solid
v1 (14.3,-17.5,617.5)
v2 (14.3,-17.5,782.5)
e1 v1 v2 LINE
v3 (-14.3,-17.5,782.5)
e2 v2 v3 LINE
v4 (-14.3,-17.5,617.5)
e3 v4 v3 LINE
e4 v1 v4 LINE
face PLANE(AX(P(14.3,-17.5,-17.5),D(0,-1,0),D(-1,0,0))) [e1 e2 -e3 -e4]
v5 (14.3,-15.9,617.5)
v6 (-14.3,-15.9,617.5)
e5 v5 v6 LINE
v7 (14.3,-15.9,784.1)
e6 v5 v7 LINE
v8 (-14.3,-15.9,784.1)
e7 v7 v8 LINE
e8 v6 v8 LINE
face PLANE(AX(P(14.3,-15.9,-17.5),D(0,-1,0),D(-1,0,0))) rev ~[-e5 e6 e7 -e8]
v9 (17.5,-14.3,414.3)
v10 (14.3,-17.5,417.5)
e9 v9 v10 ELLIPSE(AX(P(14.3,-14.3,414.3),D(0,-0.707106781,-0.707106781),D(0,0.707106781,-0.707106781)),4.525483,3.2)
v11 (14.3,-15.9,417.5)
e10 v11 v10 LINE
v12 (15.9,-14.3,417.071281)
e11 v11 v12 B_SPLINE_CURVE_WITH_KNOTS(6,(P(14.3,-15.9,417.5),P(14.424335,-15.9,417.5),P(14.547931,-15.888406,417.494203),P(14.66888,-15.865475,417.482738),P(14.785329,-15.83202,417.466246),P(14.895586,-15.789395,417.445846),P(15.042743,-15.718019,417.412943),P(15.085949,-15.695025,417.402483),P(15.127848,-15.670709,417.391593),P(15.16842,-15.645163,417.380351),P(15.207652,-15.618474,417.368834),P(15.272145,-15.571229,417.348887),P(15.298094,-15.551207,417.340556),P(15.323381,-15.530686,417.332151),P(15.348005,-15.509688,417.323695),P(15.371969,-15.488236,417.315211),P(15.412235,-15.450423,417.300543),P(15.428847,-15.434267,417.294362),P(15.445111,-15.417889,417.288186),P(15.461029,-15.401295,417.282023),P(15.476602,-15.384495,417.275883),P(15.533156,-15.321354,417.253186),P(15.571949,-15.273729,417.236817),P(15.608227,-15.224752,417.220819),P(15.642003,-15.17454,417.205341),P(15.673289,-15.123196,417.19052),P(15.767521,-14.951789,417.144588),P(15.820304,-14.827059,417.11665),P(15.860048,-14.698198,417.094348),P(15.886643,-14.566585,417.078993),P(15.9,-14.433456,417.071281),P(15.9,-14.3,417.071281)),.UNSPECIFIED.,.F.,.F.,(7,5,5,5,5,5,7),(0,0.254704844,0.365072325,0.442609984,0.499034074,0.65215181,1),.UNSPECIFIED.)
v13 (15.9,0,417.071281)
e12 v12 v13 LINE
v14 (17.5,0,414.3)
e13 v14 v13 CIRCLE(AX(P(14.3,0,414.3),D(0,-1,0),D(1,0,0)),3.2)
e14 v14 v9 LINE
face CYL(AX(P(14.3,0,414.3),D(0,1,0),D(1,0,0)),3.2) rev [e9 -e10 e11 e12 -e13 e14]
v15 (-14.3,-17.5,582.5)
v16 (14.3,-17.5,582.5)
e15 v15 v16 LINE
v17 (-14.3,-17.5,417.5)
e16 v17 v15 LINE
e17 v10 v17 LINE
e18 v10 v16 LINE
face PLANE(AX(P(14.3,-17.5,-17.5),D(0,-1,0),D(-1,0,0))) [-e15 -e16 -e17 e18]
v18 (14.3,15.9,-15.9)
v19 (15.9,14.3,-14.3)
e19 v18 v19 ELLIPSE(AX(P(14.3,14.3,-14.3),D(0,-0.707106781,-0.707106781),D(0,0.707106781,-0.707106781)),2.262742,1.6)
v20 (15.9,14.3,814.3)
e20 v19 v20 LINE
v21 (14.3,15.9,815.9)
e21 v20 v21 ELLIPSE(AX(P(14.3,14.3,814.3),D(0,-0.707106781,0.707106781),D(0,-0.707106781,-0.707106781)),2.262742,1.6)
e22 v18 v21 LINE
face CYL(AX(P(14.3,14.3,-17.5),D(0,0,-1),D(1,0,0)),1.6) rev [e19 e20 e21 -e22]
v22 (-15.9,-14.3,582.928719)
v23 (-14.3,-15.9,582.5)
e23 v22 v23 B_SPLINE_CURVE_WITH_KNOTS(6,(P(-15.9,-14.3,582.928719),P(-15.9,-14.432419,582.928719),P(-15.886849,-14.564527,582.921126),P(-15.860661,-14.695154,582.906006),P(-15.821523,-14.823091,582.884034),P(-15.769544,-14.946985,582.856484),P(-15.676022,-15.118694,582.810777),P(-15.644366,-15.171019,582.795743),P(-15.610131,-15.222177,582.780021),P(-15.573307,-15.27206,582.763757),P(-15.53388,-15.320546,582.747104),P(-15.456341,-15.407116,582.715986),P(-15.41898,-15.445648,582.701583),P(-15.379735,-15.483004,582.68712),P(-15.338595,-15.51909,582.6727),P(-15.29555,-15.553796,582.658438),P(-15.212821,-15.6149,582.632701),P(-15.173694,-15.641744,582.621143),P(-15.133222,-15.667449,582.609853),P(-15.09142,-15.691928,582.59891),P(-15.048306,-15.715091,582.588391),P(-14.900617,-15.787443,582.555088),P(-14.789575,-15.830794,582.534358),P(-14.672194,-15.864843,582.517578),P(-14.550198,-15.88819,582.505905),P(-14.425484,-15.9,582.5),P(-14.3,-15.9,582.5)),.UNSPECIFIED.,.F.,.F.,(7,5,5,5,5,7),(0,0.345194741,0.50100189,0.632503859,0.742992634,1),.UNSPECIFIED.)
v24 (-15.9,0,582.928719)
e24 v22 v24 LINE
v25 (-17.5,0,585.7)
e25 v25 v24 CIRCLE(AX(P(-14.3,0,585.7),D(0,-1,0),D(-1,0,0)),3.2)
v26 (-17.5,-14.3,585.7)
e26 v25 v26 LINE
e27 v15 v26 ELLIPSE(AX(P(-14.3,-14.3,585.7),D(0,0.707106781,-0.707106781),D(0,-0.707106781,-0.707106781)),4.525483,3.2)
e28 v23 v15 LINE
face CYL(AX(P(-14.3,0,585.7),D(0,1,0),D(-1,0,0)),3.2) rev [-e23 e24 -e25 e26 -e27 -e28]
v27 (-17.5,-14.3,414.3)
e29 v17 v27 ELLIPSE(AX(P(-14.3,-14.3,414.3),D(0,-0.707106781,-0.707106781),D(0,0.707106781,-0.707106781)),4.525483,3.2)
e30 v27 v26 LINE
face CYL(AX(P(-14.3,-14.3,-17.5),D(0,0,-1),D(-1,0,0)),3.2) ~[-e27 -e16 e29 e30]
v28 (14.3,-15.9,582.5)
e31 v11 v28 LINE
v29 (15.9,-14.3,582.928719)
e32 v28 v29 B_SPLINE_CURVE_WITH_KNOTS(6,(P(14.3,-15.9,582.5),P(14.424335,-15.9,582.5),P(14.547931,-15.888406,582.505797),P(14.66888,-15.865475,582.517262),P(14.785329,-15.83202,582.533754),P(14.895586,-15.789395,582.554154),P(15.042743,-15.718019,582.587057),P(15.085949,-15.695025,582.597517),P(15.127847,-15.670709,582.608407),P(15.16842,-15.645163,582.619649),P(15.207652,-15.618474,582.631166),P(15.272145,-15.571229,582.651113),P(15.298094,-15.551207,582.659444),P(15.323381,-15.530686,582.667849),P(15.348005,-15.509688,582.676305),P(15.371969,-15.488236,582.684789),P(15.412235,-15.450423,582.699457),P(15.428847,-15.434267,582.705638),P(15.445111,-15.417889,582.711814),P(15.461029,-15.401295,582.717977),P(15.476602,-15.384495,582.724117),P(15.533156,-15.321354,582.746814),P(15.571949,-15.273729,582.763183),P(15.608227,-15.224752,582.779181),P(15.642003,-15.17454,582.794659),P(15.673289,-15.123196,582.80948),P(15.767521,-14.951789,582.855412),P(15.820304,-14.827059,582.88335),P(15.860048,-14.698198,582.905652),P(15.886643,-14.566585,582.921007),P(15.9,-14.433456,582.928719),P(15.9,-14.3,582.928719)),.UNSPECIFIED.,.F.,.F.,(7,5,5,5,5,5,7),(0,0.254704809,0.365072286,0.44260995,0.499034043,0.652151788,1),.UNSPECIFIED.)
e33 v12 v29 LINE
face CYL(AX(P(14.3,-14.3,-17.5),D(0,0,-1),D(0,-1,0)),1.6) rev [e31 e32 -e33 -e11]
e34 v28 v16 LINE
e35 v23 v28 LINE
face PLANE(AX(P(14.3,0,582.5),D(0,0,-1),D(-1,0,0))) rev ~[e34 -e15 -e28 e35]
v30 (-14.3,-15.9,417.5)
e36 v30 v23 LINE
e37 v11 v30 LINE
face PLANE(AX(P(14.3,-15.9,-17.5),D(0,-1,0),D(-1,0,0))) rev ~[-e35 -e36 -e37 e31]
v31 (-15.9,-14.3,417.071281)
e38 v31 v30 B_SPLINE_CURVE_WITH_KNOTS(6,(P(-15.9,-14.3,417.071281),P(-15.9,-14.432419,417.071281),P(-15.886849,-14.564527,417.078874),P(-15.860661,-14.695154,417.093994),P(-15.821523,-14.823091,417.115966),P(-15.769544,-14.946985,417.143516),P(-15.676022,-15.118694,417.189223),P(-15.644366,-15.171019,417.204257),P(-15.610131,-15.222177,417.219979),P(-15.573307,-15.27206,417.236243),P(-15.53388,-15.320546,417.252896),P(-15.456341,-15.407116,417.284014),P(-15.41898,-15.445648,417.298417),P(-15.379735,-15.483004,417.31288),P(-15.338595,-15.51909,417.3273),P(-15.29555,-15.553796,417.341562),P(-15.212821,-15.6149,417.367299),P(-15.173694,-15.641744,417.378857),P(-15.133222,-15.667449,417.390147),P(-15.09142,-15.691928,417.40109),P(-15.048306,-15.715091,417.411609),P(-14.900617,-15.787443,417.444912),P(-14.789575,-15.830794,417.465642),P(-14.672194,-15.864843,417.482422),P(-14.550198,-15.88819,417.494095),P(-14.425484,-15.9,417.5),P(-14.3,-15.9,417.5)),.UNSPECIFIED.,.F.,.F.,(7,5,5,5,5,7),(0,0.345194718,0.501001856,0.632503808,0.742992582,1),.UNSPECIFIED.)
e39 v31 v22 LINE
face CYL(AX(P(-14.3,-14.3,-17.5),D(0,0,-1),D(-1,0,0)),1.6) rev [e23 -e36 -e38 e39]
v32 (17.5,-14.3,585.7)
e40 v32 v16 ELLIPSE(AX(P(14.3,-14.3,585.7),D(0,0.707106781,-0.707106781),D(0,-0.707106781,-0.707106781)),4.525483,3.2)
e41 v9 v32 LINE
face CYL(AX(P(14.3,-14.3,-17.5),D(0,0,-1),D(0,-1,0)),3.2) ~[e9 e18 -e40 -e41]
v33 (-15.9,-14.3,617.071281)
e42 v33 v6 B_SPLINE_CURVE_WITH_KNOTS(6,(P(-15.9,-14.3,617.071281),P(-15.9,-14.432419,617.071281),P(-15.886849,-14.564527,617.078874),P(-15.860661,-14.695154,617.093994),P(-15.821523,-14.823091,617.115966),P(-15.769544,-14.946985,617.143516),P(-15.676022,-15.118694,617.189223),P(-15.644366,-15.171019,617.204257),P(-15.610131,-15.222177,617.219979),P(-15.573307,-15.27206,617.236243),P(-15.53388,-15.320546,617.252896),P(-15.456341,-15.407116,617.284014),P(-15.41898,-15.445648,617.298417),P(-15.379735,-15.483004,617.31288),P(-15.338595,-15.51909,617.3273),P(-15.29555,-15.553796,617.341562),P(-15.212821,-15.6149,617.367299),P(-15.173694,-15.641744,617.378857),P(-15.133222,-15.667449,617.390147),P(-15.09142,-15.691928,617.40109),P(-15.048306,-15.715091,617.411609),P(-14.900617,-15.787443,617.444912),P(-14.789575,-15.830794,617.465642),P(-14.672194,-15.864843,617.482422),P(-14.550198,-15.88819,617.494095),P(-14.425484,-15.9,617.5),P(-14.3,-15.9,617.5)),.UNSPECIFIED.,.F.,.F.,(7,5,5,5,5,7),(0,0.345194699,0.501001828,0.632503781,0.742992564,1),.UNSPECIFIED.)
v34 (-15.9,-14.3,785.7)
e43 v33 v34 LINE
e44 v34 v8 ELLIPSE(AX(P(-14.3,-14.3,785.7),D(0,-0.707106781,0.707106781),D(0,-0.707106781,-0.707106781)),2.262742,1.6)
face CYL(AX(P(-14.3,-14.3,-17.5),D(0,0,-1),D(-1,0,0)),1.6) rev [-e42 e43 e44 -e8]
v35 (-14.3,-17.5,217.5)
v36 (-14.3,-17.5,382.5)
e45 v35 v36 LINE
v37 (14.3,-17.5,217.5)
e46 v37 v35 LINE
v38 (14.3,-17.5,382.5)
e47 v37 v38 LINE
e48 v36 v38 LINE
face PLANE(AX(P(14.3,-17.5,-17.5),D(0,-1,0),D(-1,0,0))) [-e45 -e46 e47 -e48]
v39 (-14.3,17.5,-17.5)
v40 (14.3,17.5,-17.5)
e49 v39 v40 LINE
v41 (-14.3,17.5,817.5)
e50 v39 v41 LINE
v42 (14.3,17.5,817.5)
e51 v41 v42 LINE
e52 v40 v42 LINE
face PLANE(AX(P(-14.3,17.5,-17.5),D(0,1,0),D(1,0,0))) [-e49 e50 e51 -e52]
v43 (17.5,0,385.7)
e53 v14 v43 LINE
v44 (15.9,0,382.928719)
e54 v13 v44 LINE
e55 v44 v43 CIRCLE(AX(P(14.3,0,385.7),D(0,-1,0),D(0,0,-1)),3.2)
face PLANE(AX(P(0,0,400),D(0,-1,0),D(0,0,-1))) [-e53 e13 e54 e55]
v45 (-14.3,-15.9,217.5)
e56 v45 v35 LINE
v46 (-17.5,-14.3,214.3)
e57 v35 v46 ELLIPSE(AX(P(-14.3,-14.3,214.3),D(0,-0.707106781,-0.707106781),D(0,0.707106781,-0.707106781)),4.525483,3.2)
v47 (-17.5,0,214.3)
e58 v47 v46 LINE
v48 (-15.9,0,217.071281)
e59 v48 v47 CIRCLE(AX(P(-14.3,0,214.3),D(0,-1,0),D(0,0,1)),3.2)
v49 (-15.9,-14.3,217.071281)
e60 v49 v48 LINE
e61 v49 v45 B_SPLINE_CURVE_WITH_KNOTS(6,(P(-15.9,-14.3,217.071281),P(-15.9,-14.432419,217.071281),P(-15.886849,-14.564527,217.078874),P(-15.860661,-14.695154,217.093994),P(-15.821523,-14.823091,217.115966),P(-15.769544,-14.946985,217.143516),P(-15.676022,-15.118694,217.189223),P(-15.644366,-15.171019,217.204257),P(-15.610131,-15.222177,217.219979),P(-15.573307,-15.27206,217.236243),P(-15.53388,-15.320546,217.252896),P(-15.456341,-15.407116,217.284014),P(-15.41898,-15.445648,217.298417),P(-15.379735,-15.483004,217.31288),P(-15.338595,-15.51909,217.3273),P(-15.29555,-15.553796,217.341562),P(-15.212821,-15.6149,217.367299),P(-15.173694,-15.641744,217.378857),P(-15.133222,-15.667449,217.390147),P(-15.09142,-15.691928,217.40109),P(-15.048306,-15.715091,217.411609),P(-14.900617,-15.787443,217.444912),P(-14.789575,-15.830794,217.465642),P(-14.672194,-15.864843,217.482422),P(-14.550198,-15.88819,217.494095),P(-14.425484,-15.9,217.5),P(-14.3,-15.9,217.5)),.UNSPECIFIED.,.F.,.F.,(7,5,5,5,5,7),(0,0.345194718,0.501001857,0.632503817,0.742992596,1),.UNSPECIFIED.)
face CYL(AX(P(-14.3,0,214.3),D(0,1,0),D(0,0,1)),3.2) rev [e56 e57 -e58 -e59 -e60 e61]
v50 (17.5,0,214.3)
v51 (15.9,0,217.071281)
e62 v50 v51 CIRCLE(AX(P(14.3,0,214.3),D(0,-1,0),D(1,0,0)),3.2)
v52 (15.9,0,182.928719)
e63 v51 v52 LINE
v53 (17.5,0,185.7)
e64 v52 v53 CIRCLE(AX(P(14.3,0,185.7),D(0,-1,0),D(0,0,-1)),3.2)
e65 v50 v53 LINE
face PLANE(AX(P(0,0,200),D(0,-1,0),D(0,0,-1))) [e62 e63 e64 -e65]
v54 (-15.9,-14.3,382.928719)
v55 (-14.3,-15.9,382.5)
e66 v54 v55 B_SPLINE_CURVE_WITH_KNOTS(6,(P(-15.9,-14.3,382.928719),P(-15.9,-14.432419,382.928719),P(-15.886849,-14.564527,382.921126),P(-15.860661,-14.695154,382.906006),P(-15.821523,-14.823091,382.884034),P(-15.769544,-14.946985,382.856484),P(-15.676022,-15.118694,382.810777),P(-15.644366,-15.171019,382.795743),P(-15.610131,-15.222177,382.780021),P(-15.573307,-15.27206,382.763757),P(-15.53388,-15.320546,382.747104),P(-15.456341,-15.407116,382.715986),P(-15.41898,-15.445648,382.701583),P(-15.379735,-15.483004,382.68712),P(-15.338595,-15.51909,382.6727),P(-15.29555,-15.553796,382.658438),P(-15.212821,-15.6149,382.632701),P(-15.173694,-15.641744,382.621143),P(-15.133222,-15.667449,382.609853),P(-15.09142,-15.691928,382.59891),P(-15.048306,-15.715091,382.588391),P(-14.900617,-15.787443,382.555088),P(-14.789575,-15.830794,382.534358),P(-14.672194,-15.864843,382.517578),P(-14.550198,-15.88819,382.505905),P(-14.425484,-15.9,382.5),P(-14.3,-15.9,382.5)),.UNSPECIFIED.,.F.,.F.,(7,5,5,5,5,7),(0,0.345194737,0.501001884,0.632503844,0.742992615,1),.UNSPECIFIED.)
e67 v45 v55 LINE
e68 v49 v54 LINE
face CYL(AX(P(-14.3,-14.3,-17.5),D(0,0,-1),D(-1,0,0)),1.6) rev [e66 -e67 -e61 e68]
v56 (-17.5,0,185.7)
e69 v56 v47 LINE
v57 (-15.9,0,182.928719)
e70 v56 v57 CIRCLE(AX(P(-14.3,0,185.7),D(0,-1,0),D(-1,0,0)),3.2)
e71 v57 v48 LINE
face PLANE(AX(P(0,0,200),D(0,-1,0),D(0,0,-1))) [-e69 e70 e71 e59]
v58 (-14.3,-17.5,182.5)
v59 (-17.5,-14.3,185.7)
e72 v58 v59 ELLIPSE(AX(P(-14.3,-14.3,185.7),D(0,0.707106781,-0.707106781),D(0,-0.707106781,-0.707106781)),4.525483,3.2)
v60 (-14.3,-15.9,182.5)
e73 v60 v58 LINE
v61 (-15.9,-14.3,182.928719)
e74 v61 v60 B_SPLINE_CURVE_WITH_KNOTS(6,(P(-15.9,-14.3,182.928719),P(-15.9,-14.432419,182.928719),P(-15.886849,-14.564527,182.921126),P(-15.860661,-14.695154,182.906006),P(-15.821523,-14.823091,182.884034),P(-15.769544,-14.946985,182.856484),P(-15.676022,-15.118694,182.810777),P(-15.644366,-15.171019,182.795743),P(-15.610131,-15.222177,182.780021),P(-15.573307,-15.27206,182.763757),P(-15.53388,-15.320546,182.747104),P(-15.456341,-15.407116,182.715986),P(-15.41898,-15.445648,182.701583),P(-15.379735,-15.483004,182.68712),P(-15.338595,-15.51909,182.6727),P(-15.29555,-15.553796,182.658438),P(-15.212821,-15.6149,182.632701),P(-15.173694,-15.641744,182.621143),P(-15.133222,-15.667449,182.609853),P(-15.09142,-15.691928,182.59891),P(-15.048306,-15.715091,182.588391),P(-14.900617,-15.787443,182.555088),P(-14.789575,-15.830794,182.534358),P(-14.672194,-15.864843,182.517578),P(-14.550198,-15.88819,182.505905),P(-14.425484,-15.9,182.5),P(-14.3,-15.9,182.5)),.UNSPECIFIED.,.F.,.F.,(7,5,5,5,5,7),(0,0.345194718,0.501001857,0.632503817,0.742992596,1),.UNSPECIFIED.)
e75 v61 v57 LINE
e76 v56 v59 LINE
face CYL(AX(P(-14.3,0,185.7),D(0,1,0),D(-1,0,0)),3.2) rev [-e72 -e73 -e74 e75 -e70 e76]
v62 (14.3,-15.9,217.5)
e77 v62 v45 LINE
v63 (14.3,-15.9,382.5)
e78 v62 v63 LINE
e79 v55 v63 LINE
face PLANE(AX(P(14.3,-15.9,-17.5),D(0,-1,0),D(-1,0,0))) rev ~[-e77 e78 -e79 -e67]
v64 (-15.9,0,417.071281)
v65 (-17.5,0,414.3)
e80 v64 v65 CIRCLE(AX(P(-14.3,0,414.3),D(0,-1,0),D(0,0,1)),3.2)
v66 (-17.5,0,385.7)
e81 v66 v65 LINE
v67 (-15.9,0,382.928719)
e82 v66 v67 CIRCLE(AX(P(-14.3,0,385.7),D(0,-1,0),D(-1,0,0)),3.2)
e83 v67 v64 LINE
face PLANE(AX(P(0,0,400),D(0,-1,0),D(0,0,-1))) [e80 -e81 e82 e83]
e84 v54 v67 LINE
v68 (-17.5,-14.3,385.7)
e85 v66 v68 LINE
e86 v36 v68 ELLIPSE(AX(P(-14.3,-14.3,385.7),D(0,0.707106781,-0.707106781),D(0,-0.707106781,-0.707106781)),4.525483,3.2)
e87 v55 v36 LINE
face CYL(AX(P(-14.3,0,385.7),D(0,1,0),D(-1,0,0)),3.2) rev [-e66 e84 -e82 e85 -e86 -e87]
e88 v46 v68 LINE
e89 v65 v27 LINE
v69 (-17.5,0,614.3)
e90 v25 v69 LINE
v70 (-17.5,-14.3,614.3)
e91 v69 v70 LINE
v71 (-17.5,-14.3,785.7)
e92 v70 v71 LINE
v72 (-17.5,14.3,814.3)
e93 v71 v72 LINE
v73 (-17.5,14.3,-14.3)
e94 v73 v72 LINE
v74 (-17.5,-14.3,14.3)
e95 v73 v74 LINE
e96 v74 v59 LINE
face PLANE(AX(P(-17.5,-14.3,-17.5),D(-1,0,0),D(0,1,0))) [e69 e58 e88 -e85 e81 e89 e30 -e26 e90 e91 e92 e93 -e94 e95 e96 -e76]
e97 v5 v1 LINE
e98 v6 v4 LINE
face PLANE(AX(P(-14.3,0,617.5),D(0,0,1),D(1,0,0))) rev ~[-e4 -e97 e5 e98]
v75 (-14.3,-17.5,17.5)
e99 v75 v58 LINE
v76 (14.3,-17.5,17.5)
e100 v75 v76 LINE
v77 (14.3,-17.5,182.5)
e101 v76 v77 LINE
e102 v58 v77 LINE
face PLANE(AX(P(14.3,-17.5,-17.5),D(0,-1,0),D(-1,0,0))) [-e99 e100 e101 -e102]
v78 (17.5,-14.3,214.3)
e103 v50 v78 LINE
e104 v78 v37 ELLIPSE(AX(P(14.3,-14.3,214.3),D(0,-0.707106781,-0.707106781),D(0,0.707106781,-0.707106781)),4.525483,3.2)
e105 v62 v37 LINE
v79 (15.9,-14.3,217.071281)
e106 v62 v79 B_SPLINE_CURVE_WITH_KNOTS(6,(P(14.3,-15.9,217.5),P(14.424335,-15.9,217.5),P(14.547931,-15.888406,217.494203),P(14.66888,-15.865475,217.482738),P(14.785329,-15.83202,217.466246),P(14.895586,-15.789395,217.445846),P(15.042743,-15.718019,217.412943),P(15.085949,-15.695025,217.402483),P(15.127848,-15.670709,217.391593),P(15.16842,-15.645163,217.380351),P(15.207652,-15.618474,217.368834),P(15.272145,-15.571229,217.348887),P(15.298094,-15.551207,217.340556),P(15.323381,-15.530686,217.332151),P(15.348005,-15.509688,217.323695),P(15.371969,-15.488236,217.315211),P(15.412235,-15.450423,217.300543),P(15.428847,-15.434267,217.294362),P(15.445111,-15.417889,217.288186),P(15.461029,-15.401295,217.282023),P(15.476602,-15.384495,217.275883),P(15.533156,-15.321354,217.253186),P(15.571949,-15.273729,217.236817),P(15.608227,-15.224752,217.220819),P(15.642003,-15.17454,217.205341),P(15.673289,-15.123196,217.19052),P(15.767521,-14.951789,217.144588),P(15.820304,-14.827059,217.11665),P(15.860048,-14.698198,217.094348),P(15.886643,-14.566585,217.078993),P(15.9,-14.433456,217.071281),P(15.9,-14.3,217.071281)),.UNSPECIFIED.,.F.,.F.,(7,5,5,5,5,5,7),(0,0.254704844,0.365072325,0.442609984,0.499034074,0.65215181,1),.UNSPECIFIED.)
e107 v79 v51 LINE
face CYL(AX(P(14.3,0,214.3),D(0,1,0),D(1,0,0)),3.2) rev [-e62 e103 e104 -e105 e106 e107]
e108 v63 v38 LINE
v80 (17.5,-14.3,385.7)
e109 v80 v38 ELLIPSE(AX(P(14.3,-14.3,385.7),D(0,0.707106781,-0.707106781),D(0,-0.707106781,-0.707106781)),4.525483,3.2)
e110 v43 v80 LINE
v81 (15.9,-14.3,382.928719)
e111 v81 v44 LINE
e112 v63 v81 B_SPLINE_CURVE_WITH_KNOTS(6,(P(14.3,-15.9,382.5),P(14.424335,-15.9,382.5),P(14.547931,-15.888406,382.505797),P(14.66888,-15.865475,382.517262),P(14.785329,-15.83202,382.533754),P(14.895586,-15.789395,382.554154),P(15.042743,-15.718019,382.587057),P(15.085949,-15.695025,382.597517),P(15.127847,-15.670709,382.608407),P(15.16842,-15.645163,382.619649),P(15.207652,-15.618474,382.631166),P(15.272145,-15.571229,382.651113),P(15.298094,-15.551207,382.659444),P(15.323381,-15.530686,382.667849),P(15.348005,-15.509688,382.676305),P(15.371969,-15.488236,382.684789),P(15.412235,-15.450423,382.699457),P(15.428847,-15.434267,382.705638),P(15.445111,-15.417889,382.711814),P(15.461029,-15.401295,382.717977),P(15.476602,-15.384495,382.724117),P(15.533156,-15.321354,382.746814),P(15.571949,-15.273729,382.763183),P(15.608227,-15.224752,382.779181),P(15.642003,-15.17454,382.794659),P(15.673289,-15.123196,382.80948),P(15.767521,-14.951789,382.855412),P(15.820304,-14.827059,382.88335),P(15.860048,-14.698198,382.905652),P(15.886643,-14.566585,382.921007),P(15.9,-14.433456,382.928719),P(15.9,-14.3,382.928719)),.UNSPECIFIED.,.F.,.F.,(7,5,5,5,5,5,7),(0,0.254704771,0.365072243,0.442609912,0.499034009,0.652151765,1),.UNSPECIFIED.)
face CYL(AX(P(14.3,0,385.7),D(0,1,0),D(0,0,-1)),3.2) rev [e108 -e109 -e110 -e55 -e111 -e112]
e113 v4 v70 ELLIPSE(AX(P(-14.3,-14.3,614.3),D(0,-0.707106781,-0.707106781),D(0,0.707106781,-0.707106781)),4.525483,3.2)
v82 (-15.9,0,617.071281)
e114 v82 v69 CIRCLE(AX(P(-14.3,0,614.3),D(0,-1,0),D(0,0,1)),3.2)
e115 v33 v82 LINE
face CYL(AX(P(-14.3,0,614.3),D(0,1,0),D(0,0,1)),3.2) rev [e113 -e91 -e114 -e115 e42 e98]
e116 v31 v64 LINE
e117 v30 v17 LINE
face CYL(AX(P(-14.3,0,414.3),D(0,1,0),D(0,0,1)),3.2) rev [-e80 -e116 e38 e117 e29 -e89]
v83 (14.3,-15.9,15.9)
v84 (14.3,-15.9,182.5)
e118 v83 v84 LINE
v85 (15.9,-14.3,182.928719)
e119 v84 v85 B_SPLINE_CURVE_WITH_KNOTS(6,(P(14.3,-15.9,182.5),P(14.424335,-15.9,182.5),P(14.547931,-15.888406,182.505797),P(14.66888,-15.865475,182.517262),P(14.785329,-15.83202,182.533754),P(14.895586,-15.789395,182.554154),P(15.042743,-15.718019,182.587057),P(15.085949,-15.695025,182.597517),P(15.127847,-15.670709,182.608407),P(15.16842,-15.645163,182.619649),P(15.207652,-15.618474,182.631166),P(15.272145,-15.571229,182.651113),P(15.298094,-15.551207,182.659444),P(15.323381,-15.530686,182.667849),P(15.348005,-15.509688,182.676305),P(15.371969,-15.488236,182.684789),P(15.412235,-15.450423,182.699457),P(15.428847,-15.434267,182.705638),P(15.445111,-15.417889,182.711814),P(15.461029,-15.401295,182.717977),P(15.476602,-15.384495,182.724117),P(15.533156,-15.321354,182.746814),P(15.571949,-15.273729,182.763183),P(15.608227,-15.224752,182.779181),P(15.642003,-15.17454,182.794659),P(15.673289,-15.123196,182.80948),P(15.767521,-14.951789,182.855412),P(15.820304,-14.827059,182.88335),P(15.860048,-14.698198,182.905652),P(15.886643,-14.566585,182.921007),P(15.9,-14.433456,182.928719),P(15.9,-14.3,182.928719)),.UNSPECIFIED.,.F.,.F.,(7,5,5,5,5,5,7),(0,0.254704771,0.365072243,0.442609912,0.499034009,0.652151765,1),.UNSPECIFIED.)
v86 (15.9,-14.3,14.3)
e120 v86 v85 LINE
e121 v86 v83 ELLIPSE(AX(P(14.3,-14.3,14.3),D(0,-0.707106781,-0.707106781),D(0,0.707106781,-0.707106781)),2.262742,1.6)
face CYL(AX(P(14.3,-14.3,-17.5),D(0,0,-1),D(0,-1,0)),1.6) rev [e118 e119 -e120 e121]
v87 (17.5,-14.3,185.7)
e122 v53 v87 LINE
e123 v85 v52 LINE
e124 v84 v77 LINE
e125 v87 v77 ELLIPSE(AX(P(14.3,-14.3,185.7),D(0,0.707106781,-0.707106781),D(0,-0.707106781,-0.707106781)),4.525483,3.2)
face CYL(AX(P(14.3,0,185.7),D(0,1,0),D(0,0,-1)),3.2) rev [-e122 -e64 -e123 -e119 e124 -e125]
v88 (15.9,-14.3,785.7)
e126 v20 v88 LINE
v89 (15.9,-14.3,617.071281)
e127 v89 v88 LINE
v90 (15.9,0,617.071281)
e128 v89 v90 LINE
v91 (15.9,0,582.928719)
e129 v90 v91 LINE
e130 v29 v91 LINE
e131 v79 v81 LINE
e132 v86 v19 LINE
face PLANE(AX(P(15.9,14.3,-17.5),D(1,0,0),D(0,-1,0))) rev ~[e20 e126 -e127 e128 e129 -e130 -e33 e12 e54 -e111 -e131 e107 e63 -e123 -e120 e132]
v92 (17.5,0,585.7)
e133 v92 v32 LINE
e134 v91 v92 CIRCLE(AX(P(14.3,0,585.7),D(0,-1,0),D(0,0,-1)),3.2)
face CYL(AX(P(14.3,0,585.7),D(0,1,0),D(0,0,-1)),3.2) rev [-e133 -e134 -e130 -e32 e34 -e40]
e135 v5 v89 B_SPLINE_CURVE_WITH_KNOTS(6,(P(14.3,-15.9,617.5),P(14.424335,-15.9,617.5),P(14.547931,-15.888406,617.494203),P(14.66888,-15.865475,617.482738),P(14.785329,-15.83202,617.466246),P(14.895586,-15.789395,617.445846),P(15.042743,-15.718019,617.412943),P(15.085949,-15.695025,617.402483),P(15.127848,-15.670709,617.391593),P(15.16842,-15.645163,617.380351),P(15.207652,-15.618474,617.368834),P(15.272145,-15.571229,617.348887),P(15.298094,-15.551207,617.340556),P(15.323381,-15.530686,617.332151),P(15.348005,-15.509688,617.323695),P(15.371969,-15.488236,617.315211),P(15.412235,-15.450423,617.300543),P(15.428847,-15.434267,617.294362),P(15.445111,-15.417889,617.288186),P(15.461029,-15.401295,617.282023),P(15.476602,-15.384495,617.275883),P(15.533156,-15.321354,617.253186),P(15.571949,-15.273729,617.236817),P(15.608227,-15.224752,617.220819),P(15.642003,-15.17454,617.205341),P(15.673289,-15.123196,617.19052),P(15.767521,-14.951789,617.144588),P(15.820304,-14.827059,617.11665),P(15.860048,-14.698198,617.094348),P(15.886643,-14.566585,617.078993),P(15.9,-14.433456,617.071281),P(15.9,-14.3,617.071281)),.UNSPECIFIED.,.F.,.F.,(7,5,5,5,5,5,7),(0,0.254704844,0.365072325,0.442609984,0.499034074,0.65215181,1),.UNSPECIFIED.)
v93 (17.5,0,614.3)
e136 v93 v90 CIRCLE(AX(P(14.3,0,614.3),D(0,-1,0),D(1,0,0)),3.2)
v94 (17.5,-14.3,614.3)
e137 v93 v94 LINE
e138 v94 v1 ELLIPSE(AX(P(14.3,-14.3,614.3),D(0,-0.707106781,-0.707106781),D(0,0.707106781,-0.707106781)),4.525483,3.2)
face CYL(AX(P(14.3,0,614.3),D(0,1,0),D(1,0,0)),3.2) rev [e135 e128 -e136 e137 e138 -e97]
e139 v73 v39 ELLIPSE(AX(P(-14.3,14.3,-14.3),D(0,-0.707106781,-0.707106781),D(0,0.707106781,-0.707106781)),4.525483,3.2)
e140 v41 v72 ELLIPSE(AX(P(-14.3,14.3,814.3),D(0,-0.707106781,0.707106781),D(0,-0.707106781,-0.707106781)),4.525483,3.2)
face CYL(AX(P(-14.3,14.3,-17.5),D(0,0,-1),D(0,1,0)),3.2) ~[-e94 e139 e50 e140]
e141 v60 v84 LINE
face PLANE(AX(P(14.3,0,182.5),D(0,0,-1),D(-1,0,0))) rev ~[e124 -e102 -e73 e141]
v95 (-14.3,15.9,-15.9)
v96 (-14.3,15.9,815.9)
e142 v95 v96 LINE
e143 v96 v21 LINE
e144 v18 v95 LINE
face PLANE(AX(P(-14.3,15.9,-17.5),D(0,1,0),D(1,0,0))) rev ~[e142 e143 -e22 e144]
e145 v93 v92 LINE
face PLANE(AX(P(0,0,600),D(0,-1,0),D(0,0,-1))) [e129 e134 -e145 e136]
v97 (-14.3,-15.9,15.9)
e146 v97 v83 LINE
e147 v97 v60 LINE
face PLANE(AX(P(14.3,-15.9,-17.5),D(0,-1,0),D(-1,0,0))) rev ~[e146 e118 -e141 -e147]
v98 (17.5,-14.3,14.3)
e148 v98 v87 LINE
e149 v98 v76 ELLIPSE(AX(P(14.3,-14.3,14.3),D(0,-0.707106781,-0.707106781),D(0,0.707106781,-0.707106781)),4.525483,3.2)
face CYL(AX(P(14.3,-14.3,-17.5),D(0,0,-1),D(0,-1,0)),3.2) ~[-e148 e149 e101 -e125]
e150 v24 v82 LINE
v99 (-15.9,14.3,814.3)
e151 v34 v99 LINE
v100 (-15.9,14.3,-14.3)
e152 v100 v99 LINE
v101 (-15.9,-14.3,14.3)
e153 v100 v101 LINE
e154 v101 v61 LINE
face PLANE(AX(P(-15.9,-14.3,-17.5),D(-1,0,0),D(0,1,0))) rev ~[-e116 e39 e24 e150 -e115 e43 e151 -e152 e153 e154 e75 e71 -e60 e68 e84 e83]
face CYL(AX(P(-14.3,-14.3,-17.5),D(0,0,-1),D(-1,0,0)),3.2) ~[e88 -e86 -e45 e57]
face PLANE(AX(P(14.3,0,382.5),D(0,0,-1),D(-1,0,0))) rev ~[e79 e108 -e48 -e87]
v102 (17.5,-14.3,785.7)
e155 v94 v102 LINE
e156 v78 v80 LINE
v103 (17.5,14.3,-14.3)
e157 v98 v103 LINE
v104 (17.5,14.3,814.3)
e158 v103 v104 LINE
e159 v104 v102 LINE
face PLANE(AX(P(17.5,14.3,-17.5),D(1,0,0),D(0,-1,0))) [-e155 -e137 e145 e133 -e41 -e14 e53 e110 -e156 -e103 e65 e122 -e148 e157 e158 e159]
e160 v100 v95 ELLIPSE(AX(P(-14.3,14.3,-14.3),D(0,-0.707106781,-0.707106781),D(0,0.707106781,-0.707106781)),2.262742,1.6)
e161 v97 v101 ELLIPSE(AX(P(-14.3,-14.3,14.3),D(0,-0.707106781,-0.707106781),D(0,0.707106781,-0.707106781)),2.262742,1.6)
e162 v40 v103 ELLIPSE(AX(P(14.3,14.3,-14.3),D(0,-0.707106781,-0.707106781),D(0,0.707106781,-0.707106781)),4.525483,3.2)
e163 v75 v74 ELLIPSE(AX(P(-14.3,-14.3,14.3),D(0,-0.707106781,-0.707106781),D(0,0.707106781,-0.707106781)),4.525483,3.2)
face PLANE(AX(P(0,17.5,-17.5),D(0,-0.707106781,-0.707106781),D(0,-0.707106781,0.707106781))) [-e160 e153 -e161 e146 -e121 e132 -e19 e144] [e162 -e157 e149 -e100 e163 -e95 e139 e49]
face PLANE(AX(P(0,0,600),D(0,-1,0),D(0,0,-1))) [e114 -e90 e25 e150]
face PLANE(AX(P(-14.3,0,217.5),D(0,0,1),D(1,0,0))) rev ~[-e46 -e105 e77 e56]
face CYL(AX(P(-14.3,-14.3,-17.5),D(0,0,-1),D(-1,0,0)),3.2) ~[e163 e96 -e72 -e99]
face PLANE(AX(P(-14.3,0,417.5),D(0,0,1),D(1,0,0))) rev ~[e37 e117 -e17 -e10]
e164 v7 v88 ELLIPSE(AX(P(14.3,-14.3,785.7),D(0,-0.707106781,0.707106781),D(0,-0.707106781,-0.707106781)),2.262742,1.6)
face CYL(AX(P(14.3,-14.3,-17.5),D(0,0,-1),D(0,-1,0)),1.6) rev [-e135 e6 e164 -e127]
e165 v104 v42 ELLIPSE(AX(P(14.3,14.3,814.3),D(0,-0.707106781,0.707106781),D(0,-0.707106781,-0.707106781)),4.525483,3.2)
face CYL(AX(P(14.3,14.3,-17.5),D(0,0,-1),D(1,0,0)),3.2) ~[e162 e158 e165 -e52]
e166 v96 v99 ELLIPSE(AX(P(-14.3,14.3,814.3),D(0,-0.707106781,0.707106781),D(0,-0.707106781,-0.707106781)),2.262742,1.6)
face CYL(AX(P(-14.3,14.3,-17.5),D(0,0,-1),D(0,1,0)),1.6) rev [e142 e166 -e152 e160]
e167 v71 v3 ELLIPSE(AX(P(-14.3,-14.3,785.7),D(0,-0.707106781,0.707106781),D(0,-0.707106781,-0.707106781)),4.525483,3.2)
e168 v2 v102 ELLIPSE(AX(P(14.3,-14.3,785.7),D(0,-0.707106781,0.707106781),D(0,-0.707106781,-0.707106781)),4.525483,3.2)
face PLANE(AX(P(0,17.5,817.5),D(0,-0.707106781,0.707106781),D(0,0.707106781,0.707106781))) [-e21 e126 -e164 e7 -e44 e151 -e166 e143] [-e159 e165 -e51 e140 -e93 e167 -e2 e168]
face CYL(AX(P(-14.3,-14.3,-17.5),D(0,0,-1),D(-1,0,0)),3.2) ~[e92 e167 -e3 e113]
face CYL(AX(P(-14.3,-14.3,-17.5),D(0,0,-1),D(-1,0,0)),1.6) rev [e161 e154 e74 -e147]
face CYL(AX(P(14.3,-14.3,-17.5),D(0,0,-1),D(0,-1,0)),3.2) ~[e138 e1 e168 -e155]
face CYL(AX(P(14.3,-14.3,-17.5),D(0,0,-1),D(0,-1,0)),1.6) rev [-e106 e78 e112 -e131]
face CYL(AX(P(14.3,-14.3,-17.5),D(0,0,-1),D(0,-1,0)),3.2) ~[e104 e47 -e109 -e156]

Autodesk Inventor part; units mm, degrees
ref_plane "Start plane" through (0, 0, -17.5) normal (0, 0, 1) x (1, 0, 0)
ref_plane "End plane" through (0, 0, 817.5) normal (0, 0, 1) x (1, 0, 0)
sketch "Sketch" plane through (0, 0, 0) normal (0, 0, 1) x (1, 0, 0)
  line L0 (-17.5, -14.3) -> (-17.5, 14.3)
  line L1 (-14.3, 17.5) -> (14.3, 17.5)
  line L2 (17.5, 14.3) -> (17.5, -14.3)
  line L3 (14.3, -17.5) -> (-14.3, -17.5)
  arc A0 (-17.5, -14.3) -> (-14.3, -17.5) centre (-14.3, -14.3) ccw
  arc A1 (-14.3, 17.5) -> (-17.5, 14.3) centre (-14.3, 14.3) ccw
  arc A2 (17.5, 14.3) -> (14.3, 17.5) centre (14.3, 14.3) ccw
  arc A3 (14.3, -17.5) -> (17.5, -14.3) centre (14.3, -14.3) ccw
  arc A4 (-14.3, 15.9) -> (-15.9, 14.3) centre (-14.3, 14.3) ccw
  line L4 (-14.3, 15.9) -> (14.3, 15.9)
  arc A5 (15.9, 14.3) -> (14.3, 15.9) centre (14.3, 14.3) ccw
  line L5 (15.9, 14.3) -> (15.9, -14.3)
  arc A6 (14.3, -15.9) -> (15.9, -14.3) centre (14.3, -14.3) ccw
  line L6 (14.3, -15.9) -> (-14.3, -15.9)
  arc A7 (-15.9, -14.3) -> (-14.3, -15.9) centre (-14.3, -14.3) ccw
  line L7 (-15.9, -14.3) -> (-15.9, 14.3)
  line L8 (0, 25.4278) -> (0, -25.4278) construction
  line L9 (-25.4278, 0) -> (25.4278, 0) construction
  dimension "d7" = 3.2
  dimension "d10" = 35
  dimension "d11" = 35
  dimension "d12" = 1.6
  dimension "d15" = 17.5
  dimension "d16" = 17.5
extrude "Body" add sketch "Sketch" along normal up to surface (835 mm away) from surface at -17.5
sketch "Sketch3" plane through (0, 0, 0) normal (0, 0, 1) x (1, 0, 0)
  line L0 (0, 0) -> (10, 0)
ref_plane "Work Plane3" through (0, 0, 0) normal (0, -1, 0) x (1, 0, 0)
sketch "Sketch4" plane through (0, 0, 0) normal (0, -1, 0) x (1, 0, 0)
  line L0 (-2, -17.5) -> (12, -17.5)
  line L1 (-2, 817.5) -> (12, 817.5)
  dimension "d18" = 835
ref_plane "Work Plane4" through (107.5, 0, -17.5) normal (0, 0, -1) x (-1, 0, 0)
split "Split1" plane through (107.5, 0, -17.5) removes the side toward (0, 0, -1)
ref_plane "Work Plane5" through (17.5, 0, 817.5) normal (0, 0, 1) x (1, 0, 0)
split "Split2" plane through (17.5, 0, 817.5) removes the side toward (0, 0, 1)
ref_plane "Work Plane6" through (0, 17.5, -17.5) normal (0, -0.7071, -0.7071) x (1, 0, 0)
split "Split3" plane through (0, 17.5, -17.5) removes the side toward (0, -0.7071, -0.7071)
ref_plane "Work Plane14" through (0, 17.5, 817.5) normal (0, -0.7071, 0.7071) x (1, 0, 0)
split "Split5" plane through (0, 17.5, 817.5) removes the side toward (0, -0.7071, 0.7071)
ref_plane "Work Plane17" through (0, 0, 200) normal (0, -1, 0) x (0, 0, -1)
ref_plane "Work Plane18" through (0, -500, 200) normal (0, -1, 0) x (0, 0, -1)
ref_plane "Work Plane19" through (0, -250, 200) normal (0, -1, 0) x (0, 0, -1)
sketch "Sketch17" plane through (0, -250, 200) normal (0, -1, 0) x (0, 0, -1)
  arc A0 (-17.5, -14.3) -> (-14.3, -17.5) centre (-14.3, -14.3) ccw
  line L0 (-17.5, -14.3) -> (-17.5, 14.3)
  arc A1 (-14.3, 17.5) -> (-17.5, 14.3) centre (-14.3, 14.3) ccw
  line L1 (-14.3, 17.5) -> (14.3, 17.5)
  arc A2 (17.5, 14.3) -> (14.3, 17.5) centre (14.3, 14.3) ccw
  line L2 (17.5, 14.3) -> (17.5, -14.3)
  arc A3 (14.3, -17.5) -> (17.5, -14.3) centre (14.3, -14.3) ccw
  line L3 (14.3, -17.5) -> (-14.3, -17.5)
  arc A4 (-14.3, 15.9) -> (-15.9, 14.3) centre (-14.3, 14.3) ccw
  line L4 (-14.3, 15.9) -> (14.3, 15.9)
  arc A5 (15.9, 14.3) -> (14.3, 15.9) centre (14.3, 14.3) ccw
  line L5 (15.9, 14.3) -> (15.9, -14.3)
  arc A6 (14.3, -15.9) -> (15.9, -14.3) centre (14.3, -14.3) ccw
  line L6 (14.3, -15.9) -> (-14.3, -15.9)
  arc A7 (-15.9, -14.3) -> (-14.3, -15.9) centre (-14.3, -14.3) ccw
  line L7 (-15.9, -14.3) -> (-15.9, 14.3)
extrude "Extrusion14" cut sketch "Sketch17" along normal up to surface (500 mm away) from surface at -250 contours L0 A1 L1 A2 L2 A3 L3 A0 | L4 A5 L5 A6 L6 A7 L7 A4
ref_plane "Work Plane20" through (0, 0, 400) normal (0, -1, 0) x (0, 0, -1)
ref_plane "Work Plane21" through (0, -500, 400) normal (0, -1, 0) x (0, 0, -1)
ref_plane "Work Plane22" through (0, -250, 400) normal (0, -1, 0) x (0, 0, -1)
sketch "Sketch18" plane through (0, -250, 400) normal (0, -1, 0) x (0, 0, -1)
  arc A0 (-17.5, -14.3) -> (-14.3, -17.5) centre (-14.3, -14.3) ccw
  line L0 (-17.5, -14.3) -> (-17.5, 14.3)
  arc A1 (-14.3, 17.5) -> (-17.5, 14.3) centre (-14.3, 14.3) ccw
  line L1 (-14.3, 17.5) -> (14.3, 17.5)
  arc A2 (17.5, 14.3) -> (14.3, 17.5) centre (14.3, 14.3) ccw
  line L2 (17.5, 14.3) -> (17.5, -14.3)
  arc A3 (14.3, -17.5) -> (17.5, -14.3) centre (14.3, -14.3) ccw
  line L3 (14.3, -17.5) -> (-14.3, -17.5)
  arc A4 (-14.3, 15.9) -> (-15.9, 14.3) centre (-14.3, 14.3) ccw
  line L4 (-14.3, 15.9) -> (14.3, 15.9)
  arc A5 (15.9, 14.3) -> (14.3, 15.9) centre (14.3, 14.3) ccw
  line L5 (15.9, 14.3) -> (15.9, -14.3)
  arc A6 (14.3, -15.9) -> (15.9, -14.3) centre (14.3, -14.3) ccw
  line L6 (14.3, -15.9) -> (-14.3, -15.9)
  arc A7 (-15.9, -14.3) -> (-14.3, -15.9) centre (-14.3, -14.3) ccw
  line L7 (-15.9, -14.3) -> (-15.9, 14.3)
extrude "Extrusion15" cut sketch "Sketch18" along normal up to surface (500 mm away) from surface at -250 contours L0 A1 L1 A2 L2 A3 L3 A0 | L4 A5 L5 A6 L6 A7 L7 A4
ref_plane "Work Plane23" through (0, 0, 600) normal (0, -1, 0) x (0, 0, -1)
ref_plane "Work Plane24" through (0, -500, 600) normal (0, -1, 0) x (0, 0, -1)
ref_plane "Work Plane25" through (0, -250, 600) normal (0, -1, 0) x (0, 0, -1)
sketch "Sketch19" plane through (0, -250, 600) normal (0, -1, 0) x (0, 0, -1)
  arc A0 (-17.5, -14.3) -> (-14.3, -17.5) centre (-14.3, -14.3) ccw
  line L0 (-17.5, -14.3) -> (-17.5, 14.3)
  arc A1 (-14.3, 17.5) -> (-17.5, 14.3) centre (-14.3, 14.3) ccw
  line L1 (-14.3, 17.5) -> (14.3, 17.5)
  arc A2 (17.5, 14.3) -> (14.3, 17.5) centre (14.3, 14.3) ccw
  line L2 (17.5, 14.3) -> (17.5, -14.3)
  arc A3 (14.3, -17.5) -> (17.5, -14.3) centre (14.3, -14.3) ccw
  line L3 (14.3, -17.5) -> (-14.3, -17.5)
  arc A4 (-14.3, 15.9) -> (-15.9, 14.3) centre (-14.3, 14.3) ccw
  line L4 (-14.3, 15.9) -> (14.3, 15.9)
  arc A5 (15.9, 14.3) -> (14.3, 15.9) centre (14.3, 14.3) ccw
  line L5 (15.9, 14.3) -> (15.9, -14.3)
  arc A6 (14.3, -15.9) -> (15.9, -14.3) centre (14.3, -14.3) ccw
  line L6 (14.3, -15.9) -> (-14.3, -15.9)
  arc A7 (-15.9, -14.3) -> (-14.3, -15.9) centre (-14.3, -14.3) ccw
  line L7 (-15.9, -14.3) -> (-15.9, 14.3)
extrude "Extrusion16" cut sketch "Sketch19" along normal up to surface (500 mm away) from surface at -250 contours L0 A1 L1 A2 L2 A3 L3 A0 | L4 A5 L5 A6 L6 A7 L7 A4
equation "\"d7\" = G_IR"
equation "\"d10\" = G_H"
equation "\"d11\" = G_W"
equation "\"d12\" = G_T"
equation "\"d15\" = 0.5 * d10"
equation "\"d16\" = 0.5 * d11"
equation "\"d3\" = G_L"
equation "\"G_W\" = 35"
equation "\"G_H\" = 35"
equation "\"G_T\" = 1.6"
equation "\"G_IR\" = 3.2"
equation "\"G_L\" = 835"
equation "\"G_OFFSET_START\" = 17.5"
equation "\"G_OFFSET_END\" = 17.5"
equation "\"d13\" = -G_OFFSET_START"
equation "\"d14\" = G_OFFSET_END + B_L"
equation "\"B_L\" = 800"
properties part number "AS 1163 - C350L0 35x35x1.6 SHS - 835" material "Steel, Mild"
